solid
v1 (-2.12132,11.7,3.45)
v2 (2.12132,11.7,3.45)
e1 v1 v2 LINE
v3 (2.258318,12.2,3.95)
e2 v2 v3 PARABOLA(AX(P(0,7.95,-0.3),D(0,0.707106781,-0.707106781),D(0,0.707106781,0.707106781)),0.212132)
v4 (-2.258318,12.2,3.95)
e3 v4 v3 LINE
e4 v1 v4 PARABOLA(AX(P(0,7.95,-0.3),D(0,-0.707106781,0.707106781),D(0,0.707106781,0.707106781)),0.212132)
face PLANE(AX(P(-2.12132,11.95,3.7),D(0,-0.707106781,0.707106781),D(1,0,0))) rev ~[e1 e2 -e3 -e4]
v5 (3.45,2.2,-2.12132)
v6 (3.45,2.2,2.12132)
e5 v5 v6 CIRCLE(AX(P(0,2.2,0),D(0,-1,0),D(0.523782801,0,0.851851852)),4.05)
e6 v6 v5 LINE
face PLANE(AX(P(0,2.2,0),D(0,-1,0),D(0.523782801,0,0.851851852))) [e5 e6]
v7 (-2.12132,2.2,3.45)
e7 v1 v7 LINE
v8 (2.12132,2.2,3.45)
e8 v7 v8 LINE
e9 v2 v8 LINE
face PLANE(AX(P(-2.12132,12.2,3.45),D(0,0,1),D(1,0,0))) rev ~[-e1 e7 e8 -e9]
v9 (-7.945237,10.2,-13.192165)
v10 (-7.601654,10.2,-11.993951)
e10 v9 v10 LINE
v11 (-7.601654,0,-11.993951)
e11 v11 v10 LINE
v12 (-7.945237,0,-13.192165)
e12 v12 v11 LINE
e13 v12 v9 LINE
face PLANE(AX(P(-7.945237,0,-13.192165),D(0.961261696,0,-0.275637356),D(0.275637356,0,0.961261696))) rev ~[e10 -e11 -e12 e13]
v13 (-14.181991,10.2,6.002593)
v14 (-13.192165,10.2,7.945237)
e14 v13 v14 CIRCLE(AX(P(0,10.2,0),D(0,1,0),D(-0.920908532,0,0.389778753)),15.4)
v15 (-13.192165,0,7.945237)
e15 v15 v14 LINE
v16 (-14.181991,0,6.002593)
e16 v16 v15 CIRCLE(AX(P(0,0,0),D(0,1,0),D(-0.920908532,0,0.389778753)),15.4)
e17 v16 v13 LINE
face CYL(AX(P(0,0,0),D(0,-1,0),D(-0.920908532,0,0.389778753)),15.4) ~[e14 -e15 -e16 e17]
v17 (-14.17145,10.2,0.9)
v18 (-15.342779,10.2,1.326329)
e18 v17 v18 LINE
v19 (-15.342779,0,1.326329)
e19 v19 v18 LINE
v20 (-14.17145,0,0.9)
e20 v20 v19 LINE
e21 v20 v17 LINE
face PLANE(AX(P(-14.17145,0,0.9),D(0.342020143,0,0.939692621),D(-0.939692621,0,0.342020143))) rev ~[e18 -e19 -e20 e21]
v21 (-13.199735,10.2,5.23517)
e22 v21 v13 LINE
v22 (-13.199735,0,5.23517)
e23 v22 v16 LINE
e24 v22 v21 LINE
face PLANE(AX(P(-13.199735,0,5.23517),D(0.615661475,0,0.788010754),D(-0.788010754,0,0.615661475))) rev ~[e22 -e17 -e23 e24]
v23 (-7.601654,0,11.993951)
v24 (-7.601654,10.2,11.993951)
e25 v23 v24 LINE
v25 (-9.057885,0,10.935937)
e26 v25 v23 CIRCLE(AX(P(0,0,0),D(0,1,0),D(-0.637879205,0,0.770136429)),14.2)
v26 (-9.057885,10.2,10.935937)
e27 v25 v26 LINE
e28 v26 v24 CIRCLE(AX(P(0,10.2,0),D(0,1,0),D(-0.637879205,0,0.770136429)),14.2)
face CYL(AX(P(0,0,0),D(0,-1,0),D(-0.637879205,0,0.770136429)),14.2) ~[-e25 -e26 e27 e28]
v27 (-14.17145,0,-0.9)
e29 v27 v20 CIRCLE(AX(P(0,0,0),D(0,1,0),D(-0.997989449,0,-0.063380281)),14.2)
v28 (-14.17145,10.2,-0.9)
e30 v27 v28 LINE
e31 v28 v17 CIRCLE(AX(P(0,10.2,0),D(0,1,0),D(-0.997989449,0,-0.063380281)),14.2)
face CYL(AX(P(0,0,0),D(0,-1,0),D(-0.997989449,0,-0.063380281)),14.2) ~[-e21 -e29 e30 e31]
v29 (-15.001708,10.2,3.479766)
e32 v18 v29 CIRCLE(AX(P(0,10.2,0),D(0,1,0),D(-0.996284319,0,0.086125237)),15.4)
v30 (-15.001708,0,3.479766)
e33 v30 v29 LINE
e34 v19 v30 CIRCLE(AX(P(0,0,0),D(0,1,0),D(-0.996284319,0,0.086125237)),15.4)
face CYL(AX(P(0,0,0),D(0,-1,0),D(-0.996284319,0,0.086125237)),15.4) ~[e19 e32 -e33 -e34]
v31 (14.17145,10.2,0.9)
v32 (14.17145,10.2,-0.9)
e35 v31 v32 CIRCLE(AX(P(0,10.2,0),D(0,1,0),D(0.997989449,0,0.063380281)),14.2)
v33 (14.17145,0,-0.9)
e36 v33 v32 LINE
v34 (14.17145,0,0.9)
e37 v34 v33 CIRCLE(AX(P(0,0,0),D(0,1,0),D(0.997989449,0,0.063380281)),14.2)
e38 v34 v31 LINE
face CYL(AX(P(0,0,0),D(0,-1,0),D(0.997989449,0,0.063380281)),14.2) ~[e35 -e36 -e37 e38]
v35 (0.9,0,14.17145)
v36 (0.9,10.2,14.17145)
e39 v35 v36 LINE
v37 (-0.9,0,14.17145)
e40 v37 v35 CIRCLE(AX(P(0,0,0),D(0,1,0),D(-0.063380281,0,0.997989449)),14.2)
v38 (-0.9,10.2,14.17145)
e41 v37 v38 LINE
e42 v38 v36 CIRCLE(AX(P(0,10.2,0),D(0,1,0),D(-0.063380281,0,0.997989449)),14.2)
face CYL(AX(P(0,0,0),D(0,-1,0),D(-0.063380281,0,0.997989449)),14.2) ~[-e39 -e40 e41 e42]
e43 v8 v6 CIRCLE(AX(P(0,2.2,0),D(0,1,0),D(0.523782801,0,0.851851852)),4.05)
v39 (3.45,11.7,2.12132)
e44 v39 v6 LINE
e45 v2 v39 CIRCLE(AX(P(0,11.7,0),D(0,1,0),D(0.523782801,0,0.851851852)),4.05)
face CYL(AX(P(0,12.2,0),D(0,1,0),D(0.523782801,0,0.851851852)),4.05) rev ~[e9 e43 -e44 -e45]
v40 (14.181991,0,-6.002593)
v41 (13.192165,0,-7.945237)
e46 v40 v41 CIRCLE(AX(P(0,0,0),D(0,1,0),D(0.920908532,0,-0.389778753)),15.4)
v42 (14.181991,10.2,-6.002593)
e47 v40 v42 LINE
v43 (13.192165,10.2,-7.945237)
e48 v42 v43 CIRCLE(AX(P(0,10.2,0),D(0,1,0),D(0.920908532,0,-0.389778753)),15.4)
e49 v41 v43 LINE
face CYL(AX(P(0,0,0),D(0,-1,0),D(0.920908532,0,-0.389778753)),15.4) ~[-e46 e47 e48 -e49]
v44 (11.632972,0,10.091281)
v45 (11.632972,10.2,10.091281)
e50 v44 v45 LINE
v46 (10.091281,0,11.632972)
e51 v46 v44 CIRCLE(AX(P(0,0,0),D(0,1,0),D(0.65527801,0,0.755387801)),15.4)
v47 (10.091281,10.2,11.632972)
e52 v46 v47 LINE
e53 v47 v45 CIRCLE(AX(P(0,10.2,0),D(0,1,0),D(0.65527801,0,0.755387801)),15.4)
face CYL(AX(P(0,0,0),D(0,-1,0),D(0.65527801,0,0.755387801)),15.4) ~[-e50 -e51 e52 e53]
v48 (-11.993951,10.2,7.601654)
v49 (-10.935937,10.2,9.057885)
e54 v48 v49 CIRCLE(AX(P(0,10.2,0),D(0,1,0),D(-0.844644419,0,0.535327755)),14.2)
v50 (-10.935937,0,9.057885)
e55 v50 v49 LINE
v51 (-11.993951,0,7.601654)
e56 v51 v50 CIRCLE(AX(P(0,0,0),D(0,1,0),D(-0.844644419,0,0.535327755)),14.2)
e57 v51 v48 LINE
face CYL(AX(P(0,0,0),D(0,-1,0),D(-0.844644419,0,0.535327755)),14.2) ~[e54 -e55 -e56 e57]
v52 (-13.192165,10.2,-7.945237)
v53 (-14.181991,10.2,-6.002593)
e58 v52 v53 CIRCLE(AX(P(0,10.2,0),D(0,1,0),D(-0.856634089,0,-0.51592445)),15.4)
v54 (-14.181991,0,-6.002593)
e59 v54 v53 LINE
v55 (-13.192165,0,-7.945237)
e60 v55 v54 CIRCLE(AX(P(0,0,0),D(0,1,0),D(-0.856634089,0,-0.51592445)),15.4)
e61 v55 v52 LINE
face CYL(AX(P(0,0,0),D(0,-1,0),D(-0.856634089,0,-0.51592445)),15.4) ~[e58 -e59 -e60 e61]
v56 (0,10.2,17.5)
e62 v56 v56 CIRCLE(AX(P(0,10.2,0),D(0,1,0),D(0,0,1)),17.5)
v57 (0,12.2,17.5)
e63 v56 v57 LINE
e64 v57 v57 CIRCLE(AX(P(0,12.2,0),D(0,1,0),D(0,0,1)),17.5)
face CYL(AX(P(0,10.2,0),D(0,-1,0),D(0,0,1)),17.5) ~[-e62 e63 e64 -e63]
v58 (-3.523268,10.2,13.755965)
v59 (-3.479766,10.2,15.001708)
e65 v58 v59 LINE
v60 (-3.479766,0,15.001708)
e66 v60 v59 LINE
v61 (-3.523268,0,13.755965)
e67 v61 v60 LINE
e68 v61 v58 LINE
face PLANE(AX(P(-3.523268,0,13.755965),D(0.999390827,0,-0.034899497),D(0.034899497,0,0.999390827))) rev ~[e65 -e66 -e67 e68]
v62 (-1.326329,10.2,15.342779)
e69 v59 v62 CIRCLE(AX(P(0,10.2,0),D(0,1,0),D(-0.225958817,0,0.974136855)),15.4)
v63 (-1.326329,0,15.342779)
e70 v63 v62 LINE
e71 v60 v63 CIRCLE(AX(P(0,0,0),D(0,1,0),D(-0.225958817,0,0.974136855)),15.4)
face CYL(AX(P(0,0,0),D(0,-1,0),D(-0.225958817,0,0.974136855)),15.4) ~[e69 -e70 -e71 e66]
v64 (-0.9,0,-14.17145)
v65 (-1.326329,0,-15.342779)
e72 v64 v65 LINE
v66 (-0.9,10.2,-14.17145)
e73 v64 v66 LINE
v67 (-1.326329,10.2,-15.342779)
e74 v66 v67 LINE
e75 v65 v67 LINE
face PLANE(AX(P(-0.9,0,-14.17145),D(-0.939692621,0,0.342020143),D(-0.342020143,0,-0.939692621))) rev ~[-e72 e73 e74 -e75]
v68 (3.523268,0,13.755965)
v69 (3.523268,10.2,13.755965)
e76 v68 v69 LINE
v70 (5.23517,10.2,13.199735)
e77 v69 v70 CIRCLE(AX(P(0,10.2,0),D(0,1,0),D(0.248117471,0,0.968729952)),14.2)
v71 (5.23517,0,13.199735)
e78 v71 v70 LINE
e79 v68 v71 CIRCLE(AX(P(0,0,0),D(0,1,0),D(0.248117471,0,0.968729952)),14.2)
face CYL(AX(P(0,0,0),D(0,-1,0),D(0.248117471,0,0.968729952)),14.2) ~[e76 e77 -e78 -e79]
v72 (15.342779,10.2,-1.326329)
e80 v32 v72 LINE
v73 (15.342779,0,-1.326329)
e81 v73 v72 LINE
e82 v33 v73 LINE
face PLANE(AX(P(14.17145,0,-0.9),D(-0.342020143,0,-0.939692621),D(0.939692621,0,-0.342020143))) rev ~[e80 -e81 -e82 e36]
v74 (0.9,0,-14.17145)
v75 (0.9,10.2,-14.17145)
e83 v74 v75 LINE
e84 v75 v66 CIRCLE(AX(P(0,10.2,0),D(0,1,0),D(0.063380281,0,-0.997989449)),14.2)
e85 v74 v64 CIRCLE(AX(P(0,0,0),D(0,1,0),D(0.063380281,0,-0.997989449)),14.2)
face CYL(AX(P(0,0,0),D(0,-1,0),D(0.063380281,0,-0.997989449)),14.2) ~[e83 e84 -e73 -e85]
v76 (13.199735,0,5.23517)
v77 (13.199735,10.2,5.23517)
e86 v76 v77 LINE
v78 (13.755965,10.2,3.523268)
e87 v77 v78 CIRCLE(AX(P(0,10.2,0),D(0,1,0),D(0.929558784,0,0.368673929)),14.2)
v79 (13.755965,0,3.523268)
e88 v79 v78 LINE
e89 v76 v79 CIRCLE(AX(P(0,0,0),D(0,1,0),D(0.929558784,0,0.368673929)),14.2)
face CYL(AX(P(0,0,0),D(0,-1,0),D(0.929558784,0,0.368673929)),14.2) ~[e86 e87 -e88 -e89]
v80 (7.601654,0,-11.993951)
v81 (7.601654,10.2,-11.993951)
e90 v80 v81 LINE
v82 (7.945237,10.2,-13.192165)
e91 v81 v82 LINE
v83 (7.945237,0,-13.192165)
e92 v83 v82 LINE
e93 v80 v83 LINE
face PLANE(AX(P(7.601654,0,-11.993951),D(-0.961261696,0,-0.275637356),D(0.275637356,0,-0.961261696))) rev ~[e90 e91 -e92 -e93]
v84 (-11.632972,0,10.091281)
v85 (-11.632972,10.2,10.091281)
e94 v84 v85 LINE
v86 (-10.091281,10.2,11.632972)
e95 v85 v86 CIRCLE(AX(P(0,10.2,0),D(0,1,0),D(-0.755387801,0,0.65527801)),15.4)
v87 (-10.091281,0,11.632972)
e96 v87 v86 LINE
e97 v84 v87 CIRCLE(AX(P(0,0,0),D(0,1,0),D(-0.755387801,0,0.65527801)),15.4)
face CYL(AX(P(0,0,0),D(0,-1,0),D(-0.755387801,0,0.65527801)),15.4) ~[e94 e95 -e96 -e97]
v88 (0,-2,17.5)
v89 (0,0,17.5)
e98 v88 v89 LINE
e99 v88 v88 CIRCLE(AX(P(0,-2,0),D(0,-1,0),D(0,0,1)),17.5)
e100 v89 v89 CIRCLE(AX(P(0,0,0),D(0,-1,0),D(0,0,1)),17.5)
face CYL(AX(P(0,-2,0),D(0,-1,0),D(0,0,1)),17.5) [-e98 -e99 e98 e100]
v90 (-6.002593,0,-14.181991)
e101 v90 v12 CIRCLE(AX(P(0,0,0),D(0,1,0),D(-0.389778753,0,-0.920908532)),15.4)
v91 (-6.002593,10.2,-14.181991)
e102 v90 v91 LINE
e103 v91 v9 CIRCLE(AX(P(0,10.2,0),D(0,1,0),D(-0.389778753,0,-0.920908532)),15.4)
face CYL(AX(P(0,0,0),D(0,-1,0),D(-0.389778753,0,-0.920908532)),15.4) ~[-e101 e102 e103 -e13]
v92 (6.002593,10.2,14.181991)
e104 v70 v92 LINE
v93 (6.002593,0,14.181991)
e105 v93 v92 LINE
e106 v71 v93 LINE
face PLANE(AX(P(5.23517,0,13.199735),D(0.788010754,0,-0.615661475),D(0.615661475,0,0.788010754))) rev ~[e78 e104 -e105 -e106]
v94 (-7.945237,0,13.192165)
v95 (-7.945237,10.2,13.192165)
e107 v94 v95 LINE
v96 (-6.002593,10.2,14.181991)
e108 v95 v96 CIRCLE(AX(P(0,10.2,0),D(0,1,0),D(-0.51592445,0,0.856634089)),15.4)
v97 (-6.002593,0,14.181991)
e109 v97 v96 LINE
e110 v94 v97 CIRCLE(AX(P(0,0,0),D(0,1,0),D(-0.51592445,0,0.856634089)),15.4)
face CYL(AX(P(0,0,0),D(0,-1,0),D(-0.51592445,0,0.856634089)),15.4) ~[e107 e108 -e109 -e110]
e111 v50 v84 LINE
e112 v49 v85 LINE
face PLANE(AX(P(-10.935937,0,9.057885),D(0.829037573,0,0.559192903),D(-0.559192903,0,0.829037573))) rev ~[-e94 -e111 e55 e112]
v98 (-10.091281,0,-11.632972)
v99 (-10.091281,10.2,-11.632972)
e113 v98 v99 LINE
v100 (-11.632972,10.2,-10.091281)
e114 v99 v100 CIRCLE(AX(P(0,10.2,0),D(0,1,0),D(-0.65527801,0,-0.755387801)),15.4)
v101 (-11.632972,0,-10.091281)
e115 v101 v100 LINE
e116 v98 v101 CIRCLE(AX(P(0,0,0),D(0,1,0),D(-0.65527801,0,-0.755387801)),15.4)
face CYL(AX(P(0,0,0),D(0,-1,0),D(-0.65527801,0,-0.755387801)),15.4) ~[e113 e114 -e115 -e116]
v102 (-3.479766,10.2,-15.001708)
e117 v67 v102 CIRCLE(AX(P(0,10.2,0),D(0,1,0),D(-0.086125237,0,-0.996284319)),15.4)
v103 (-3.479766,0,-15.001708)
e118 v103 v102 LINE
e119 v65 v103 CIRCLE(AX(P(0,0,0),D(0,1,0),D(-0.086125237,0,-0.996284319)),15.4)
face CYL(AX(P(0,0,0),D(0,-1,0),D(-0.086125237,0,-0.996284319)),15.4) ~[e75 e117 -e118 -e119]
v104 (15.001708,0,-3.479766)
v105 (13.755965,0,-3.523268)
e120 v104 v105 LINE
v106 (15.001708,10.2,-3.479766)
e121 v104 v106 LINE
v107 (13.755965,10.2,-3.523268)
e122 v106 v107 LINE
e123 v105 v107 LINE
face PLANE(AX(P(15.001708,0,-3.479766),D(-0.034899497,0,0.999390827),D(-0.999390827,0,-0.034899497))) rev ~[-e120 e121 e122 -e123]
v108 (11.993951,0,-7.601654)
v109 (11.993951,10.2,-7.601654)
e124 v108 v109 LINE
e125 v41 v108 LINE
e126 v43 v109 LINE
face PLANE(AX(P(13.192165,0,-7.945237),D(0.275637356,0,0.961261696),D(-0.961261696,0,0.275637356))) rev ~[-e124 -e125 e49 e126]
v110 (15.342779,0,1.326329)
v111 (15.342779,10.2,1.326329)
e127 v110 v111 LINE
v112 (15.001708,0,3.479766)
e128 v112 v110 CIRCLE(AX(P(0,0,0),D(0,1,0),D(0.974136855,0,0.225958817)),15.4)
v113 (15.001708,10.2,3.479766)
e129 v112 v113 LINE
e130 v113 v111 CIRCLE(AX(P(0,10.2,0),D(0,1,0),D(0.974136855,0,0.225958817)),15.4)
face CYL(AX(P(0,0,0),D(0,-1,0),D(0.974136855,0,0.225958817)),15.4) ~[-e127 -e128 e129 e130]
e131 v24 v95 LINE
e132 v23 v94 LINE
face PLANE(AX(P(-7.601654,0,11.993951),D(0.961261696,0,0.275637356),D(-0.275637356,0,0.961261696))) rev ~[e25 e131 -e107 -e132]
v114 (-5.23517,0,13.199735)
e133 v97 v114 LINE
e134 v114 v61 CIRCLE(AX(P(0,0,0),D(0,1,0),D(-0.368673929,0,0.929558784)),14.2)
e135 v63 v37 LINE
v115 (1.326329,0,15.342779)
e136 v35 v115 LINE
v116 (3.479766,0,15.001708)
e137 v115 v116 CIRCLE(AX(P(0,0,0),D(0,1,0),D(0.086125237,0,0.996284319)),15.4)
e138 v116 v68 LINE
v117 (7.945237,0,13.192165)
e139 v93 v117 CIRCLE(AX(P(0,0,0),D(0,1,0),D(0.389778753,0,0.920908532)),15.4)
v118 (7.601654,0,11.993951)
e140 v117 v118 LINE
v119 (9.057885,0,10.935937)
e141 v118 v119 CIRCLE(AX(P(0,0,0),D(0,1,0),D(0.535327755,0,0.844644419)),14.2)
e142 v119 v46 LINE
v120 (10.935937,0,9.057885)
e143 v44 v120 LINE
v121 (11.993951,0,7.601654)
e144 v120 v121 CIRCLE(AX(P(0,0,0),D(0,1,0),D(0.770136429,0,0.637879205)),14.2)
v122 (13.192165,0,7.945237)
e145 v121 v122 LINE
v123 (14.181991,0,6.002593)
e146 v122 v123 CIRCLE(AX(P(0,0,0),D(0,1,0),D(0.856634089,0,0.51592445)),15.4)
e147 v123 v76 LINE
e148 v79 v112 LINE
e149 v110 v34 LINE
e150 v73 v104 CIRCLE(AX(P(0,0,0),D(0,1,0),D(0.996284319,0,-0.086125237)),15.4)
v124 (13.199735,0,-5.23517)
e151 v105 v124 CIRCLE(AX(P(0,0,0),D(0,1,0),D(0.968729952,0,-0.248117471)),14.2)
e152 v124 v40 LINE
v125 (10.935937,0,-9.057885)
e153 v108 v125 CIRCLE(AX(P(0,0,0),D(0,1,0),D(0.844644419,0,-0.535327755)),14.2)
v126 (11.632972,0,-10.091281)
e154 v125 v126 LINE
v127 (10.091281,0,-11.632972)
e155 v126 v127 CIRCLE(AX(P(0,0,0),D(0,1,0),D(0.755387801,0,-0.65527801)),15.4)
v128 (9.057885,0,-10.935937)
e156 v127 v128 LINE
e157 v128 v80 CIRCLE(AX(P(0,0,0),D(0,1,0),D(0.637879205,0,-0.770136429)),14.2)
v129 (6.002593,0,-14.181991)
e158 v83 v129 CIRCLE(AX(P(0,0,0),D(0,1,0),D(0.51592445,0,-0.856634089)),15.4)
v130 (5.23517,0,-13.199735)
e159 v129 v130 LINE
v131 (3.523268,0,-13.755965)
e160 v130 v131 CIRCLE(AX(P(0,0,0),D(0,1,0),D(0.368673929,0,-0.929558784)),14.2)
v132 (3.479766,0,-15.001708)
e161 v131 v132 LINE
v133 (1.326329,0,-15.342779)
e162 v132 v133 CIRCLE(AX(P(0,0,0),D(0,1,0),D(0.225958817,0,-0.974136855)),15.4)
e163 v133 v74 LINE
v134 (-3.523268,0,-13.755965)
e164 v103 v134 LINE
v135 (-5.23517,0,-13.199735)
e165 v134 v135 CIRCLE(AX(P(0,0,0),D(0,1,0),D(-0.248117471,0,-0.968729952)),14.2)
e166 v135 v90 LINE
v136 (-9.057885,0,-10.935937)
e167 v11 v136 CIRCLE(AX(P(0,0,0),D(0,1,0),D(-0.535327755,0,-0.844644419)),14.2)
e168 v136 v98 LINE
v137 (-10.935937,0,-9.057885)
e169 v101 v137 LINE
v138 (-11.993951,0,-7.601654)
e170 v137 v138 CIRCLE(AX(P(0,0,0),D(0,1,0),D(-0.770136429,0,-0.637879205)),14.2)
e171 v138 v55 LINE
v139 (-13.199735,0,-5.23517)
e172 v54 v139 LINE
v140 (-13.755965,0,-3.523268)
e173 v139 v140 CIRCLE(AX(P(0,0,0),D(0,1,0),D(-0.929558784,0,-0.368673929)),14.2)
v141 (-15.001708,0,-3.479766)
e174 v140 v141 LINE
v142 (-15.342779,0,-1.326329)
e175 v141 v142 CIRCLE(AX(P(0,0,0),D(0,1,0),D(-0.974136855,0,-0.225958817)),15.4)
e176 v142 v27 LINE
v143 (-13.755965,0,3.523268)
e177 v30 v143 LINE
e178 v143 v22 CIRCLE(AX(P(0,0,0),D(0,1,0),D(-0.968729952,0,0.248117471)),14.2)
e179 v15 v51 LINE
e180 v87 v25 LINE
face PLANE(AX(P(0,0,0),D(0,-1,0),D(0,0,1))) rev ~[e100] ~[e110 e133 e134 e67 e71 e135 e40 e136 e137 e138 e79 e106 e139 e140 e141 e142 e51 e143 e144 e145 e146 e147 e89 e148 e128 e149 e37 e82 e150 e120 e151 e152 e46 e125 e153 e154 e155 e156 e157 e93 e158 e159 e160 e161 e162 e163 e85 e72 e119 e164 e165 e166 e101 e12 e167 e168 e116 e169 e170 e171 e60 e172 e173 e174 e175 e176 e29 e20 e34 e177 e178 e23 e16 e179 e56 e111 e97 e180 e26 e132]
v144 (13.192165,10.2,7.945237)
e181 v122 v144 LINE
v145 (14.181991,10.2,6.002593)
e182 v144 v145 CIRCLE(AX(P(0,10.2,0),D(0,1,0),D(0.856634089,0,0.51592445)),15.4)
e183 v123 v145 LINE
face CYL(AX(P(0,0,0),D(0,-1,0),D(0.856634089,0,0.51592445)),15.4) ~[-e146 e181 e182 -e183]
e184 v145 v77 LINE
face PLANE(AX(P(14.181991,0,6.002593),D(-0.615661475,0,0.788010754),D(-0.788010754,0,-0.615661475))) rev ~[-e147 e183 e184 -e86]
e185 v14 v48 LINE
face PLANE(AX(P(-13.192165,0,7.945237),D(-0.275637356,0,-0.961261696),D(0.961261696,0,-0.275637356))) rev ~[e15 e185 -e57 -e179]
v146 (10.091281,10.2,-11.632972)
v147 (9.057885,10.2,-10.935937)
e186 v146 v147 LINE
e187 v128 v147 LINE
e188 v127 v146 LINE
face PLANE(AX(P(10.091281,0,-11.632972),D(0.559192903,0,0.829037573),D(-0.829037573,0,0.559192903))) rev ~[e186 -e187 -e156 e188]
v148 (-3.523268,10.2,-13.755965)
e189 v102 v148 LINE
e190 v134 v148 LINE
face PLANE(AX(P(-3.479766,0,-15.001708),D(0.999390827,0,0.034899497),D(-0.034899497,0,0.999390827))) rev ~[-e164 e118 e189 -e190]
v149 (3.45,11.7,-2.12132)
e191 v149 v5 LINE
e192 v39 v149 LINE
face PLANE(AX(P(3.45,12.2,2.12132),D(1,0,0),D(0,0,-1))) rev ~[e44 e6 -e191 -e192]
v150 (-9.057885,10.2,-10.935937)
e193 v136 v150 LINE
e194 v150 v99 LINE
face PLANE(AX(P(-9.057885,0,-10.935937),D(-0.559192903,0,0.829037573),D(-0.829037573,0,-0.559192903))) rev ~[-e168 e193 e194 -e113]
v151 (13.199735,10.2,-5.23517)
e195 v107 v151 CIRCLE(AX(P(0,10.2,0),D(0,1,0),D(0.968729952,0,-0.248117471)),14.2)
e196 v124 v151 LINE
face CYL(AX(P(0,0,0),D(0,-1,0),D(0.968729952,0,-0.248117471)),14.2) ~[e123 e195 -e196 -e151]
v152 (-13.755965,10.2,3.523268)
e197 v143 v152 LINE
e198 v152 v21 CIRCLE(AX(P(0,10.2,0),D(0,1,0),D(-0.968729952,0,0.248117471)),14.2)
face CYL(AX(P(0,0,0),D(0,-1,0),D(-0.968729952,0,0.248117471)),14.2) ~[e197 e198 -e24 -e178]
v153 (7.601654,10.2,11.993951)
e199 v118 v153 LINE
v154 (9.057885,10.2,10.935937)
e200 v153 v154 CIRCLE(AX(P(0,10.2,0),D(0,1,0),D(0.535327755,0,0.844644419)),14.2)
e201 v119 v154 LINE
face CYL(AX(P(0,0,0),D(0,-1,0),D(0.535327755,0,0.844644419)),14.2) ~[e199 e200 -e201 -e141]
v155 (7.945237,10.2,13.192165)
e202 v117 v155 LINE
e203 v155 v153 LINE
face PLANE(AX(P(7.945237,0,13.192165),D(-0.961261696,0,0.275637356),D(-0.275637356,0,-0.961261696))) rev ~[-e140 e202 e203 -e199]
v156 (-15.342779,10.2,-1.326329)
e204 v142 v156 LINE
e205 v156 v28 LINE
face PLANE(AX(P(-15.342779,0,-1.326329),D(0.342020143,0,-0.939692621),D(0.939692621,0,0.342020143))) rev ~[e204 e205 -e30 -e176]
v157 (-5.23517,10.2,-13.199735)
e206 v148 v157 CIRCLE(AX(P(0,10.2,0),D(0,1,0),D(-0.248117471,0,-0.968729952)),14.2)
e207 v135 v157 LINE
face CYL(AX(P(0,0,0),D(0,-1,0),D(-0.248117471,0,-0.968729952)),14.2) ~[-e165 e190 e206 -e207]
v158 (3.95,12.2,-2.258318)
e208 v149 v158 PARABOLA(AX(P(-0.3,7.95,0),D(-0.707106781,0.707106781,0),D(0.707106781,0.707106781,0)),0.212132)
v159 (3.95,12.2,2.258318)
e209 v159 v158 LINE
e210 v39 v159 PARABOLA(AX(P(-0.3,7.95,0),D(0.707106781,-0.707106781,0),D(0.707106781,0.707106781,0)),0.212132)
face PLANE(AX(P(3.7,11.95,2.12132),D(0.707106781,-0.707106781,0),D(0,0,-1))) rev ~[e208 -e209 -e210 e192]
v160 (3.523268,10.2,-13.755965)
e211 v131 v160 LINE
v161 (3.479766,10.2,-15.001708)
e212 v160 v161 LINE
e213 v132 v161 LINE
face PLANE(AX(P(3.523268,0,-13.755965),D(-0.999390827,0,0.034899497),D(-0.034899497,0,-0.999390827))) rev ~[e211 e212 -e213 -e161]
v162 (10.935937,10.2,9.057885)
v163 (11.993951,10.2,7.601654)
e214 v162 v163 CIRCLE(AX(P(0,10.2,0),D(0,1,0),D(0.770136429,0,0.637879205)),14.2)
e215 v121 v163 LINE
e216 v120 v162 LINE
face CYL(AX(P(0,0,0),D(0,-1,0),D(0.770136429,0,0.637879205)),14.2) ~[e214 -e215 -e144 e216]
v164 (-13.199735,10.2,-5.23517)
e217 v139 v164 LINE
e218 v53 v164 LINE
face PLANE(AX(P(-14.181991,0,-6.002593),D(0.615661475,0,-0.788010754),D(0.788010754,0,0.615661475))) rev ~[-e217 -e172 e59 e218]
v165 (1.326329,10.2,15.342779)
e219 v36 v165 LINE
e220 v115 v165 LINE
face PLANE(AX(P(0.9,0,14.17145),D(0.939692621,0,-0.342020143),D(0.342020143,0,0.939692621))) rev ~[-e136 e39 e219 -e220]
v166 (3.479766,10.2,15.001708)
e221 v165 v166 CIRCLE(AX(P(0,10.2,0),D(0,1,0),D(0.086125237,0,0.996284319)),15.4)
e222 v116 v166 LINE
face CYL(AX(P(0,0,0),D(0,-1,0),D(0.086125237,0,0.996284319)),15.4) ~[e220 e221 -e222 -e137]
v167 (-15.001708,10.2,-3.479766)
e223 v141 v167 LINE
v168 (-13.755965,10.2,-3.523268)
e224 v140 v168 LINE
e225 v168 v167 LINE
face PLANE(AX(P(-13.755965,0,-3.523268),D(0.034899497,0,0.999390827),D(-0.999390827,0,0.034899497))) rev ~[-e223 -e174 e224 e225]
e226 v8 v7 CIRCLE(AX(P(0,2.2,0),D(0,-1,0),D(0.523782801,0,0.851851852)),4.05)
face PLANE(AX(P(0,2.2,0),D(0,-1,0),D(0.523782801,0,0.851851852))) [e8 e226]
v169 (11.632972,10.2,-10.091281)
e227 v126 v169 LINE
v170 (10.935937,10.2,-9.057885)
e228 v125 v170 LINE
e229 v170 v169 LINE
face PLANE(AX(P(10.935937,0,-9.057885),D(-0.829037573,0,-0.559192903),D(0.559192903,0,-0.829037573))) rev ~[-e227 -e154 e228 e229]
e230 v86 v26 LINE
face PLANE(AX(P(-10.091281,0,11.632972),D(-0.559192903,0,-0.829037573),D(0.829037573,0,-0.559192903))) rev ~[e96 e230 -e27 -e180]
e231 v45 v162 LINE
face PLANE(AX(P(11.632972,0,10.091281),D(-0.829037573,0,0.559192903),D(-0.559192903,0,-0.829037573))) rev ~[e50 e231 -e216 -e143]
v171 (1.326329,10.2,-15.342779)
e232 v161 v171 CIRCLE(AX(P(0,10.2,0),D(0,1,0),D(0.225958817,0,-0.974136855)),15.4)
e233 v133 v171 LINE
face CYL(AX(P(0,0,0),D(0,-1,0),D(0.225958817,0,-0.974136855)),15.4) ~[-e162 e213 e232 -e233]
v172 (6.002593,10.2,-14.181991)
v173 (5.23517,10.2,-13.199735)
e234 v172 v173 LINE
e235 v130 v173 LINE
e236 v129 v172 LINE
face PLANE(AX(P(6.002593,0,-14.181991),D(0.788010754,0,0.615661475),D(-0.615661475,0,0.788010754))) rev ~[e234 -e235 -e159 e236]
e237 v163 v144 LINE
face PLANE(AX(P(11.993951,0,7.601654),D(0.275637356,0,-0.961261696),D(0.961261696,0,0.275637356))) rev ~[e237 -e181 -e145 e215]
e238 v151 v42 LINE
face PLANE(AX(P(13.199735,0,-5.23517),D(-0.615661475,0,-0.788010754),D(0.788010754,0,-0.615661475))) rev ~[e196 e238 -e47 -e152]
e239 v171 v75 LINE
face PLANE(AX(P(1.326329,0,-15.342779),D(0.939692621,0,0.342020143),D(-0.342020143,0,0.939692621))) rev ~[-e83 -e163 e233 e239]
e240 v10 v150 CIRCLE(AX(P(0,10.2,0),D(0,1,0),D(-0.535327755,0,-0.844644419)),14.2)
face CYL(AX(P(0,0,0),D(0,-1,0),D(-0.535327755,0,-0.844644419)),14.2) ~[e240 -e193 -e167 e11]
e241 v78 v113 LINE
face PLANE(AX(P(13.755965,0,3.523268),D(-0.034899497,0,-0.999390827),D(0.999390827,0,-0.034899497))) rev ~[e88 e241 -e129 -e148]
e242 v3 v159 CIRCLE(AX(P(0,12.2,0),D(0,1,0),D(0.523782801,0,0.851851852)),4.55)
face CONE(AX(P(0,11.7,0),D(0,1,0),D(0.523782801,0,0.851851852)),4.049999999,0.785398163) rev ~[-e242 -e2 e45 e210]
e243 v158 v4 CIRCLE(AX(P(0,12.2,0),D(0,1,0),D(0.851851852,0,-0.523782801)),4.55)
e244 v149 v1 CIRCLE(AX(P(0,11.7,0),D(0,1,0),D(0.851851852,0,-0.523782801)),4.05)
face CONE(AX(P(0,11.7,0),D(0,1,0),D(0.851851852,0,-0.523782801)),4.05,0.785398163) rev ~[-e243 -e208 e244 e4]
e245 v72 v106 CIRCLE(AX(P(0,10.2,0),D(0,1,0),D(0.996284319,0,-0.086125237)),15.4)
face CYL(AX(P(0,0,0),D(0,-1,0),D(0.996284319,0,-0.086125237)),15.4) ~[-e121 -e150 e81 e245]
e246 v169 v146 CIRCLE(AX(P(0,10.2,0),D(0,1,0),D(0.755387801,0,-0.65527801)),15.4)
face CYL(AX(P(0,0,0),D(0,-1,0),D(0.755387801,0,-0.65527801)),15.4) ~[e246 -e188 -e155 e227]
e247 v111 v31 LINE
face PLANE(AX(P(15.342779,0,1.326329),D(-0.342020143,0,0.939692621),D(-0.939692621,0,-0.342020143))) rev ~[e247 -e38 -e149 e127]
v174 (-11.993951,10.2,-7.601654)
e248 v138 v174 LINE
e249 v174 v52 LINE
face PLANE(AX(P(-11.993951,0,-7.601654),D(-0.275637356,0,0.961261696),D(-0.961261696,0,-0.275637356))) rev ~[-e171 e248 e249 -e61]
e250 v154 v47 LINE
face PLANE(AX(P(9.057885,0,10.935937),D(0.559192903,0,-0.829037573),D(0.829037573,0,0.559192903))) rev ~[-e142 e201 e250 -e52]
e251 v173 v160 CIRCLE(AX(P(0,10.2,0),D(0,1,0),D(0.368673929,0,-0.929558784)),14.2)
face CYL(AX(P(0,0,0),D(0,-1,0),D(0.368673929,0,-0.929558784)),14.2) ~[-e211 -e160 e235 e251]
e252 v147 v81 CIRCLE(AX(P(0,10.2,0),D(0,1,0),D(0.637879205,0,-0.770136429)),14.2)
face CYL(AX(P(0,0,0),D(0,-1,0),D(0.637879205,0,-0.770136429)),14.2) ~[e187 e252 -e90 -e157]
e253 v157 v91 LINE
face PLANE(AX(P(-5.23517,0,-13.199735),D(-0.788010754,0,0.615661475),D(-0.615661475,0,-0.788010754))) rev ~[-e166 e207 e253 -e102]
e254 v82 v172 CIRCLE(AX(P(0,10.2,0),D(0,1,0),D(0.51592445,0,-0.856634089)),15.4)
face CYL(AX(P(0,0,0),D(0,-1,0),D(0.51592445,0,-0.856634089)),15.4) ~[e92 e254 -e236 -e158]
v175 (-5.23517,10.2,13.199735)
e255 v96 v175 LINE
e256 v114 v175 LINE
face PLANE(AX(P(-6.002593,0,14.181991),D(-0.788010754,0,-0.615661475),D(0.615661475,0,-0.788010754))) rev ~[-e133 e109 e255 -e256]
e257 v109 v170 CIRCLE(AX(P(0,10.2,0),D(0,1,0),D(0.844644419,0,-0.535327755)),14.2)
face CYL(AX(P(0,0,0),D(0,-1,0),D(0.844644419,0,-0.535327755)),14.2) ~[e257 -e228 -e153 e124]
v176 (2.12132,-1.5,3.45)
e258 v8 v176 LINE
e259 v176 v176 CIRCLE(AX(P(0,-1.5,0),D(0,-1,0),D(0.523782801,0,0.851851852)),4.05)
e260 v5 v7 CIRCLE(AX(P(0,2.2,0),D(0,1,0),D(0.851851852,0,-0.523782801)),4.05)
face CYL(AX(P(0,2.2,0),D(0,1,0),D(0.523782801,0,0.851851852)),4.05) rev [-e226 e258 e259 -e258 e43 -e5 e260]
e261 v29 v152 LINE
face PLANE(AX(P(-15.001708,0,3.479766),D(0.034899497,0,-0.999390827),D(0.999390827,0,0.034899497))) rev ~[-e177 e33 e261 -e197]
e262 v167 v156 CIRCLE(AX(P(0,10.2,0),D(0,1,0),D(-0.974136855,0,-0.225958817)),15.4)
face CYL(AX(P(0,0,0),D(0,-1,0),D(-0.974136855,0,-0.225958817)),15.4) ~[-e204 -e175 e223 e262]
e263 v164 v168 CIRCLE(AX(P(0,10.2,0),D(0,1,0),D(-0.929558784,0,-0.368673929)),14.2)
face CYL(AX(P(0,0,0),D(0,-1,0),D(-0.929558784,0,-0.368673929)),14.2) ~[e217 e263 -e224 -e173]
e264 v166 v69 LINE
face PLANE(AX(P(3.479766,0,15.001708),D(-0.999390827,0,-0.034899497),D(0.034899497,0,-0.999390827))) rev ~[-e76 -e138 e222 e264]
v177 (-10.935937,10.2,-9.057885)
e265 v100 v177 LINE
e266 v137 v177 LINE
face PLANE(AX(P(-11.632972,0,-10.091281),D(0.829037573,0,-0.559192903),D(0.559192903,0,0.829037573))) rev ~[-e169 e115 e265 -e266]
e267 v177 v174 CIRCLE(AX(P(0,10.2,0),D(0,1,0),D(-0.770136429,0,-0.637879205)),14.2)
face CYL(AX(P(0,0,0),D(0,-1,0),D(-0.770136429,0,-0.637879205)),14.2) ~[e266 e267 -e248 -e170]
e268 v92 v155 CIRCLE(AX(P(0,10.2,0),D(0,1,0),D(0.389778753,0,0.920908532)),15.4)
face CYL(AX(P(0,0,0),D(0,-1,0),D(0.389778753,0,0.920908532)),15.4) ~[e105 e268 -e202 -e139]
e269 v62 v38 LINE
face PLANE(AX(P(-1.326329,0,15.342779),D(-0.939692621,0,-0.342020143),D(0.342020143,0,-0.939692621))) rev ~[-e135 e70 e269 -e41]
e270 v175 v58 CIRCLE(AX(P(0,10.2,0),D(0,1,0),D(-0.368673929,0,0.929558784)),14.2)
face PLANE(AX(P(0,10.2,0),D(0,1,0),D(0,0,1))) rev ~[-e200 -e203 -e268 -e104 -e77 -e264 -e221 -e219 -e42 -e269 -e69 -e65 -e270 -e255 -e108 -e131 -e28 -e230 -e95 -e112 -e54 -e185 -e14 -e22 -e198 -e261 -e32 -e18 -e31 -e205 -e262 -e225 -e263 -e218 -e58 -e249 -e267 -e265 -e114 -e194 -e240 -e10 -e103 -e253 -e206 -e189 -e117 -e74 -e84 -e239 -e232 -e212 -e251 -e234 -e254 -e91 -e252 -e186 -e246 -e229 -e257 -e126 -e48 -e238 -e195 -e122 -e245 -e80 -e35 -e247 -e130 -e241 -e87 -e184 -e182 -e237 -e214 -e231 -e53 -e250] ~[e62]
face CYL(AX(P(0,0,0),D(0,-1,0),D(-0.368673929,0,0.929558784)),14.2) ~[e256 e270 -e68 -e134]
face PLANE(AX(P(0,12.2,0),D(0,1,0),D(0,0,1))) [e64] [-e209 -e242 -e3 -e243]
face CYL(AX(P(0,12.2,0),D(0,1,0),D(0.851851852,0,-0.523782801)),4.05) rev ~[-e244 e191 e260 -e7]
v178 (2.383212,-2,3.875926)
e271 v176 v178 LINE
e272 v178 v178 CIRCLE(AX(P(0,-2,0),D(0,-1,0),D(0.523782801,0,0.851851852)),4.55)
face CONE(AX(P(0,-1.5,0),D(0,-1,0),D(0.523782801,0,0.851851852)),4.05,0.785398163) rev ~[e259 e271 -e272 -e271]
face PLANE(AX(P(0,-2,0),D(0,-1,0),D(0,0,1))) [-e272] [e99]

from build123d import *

# Parameters (mm, degrees)
EXTRUDE_1_DEPTH     = 10.2
SKETCH_3_R          = 17.5
EXTRUDE_2_DEPTH     = 2
EXTRUDE_START       = 2
SKETCH_4_R          = 17.5
EXTRUDE_3_DEPTH     = 2
CUT_EXTRUDE_4_DEPTH = 10
CUT_EXTRUDE_START   = -4.2
SKETCH_6_R          = 4.05
CUT_EXTRUDE_5_DEPTH = 4.2
CHAMFER_1_SIZE      = 0.5
CHAMFER_2_SIZE      = 0.5


with BuildPart() as part:
    # Эскиз2 → Вытянуть1 (new body)
    with BuildSketch(Plane(origin=(0, 0, 0), x_dir=(1, 0, 0), z_dir=(0, 1, 0))):
        with BuildLine():
            Line((-0.9, 14.171450173), (-1.326328648, 15.342778507))
            ThreePointArc((-1.326328648, 15.342778507), (-2.409090762, 15.210400445), (-3.479765796, 15.00170757))
            Line((-3.479765796, 15.00170757), (-3.523268074, 13.755965327))
            ThreePointArc((-3.523268074, 13.755965327), (-4.38804132, 13.505002531), (-5.235169803, 13.199734737))
            Line((-5.235169803, 13.199734737), (-6.002592803, 14.181991385))
            ThreePointArc((-6.002592803, 14.181991385), (-6.991453696, 13.721500473), (-7.945236519, 13.192164972))
            Line((-7.945236519, 13.192164972), (-7.60165412, 11.993950752))
            ThreePointArc((-7.60165412, 11.993950752), (-8.346550583, 11.48804132), (-9.05788471, 10.935937298))
            Line((-9.05788471, 10.935937298), (-10.091281352, 11.632972134))
            ThreePointArc((-10.091281352, 11.632972134), (-10.88944443, 10.88944443), (-11.632972134, 10.091281352))
            Line((-11.632972134, 10.091281352), (-10.935937298, 9.05788471))
            ThreePointArc((-10.935937298, 9.05788471), (-11.48804132, 8.346550583), (-11.993950752, 7.60165412))
            Line((-11.993950752, 7.60165412), (-13.192164972, 7.945236519))
            ThreePointArc((-13.192164972, 7.945236519), (-13.721500473, 6.991453696), (-14.181991385, 6.002592803))
            Line((-14.181991385, 6.002592803), (-13.199734737, 5.235169803))
            ThreePointArc((-13.199734737, 5.235169803), (-13.505002531, 4.38804132), (-13.755965327, 3.523268074))
            Line((-13.755965327, 3.523268074), (-15.00170757, 3.479765796))
            ThreePointArc((-15.00170757, 3.479765796), (-15.210400445, 2.409090762), (-15.342778507, 1.326328648))
            Line((-15.342778507, 1.326328648), (-14.171450173, 0.9))
            ThreePointArc((-14.171450173, 0.9), (-14.2, 0), (-14.171450173, -0.9))
            Line((-14.171450173, -0.9), (-15.342778507, -1.326328648))
            ThreePointArc((-15.342778507, -1.326328648), (-15.210400445, -2.409090762), (-15.00170757, -3.479765796))
            Line((-15.00170757, -3.479765796), (-13.755965327, -3.523268074))
            ThreePointArc((-13.755965327, -3.523268074), (-13.505002531, -4.38804132), (-13.199734737, -5.235169803))
            Line((-13.199734737, -5.235169803), (-14.181991385, -6.002592803))
            ThreePointArc((-14.181991385, -6.002592803), (-13.721500473, -6.991453696), (-13.192164972, -7.945236519))
            Line((-13.192164972, -7.945236519), (-11.993950752, -7.60165412))
            ThreePointArc((-11.993950752, -7.60165412), (-11.48804132, -8.346550583), (-10.935937298, -9.05788471))
            Line((-10.935937298, -9.05788471), (-11.632972134, -10.091281352))
            ThreePointArc((-11.632972134, -10.091281352), (-10.88944443, -10.88944443), (-10.091281352, -11.632972134))
            Line((-10.091281352, -11.632972134), (-9.05788471, -10.935937298))
            ThreePointArc((-9.05788471, -10.935937298), (-8.346550583, -11.48804132), (-7.60165412, -11.993950752))
            Line((-7.60165412, -11.993950752), (-7.945236519, -13.192164972))
            ThreePointArc((-7.945236519, -13.192164972), (-6.991453696, -13.721500473), (-6.002592803, -14.181991385))
            Line((-6.002592803, -14.181991385), (-5.235169803, -13.199734737))
            ThreePointArc((-5.235169803, -13.199734737), (-4.38804132, -13.505002531), (-3.523268074, -13.755965327))
            Line((-3.523268074, -13.755965327), (-3.479765796, -15.00170757))
            ThreePointArc((-3.479765796, -15.00170757), (-2.409090762, -15.210400445), (-1.326328648, -15.342778507))
            Line((-1.326328648, -15.342778507), (-0.9, -14.171450173))
            ThreePointArc((-0.9, -14.171450173), (0, -14.2), (0.9, -14.171450173))
            Line((0.9, -14.171450173), (1.326328648, -15.342778507))
            ThreePointArc((1.326328648, -15.342778507), (2.409090762, -15.210400445), (3.479765796, -15.00170757))
            Line((3.479765796, -15.00170757), (3.523268074, -13.755965327))
            ThreePointArc((3.523268074, -13.755965327), (4.38804132, -13.505002531), (5.235169803, -13.199734737))
            Line((5.235169803, -13.199734737), (6.002592803, -14.181991385))
            ThreePointArc((6.002592803, -14.181991385), (6.991453696, -13.721500473), (7.945236519, -13.192164972))
            Line((7.945236519, -13.192164972), (7.60165412, -11.993950752))
            ThreePointArc((7.60165412, -11.993950752), (8.346550583, -11.48804132), (9.05788471, -10.935937298))
            Line((9.05788471, -10.935937298), (10.091281352, -11.632972134))
            ThreePointArc((10.091281352, -11.632972134), (10.88944443, -10.88944443), (11.632972134, -10.091281352))
            Line((11.632972134, -10.091281352), (10.935937298, -9.05788471))
            ThreePointArc((10.935937298, -9.05788471), (11.48804132, -8.346550583), (11.993950752, -7.60165412))
            Line((11.993950752, -7.60165412), (13.192164972, -7.945236519))
            ThreePointArc((13.192164972, -7.945236519), (13.721500473, -6.991453696), (14.181991385, -6.002592803))
            Line((14.181991385, -6.002592803), (13.199734737, -5.235169803))
            ThreePointArc((13.199734737, -5.235169803), (13.505002531, -4.38804132), (13.755965327, -3.523268074))
            Line((13.755965327, -3.523268074), (15.00170757, -3.479765796))
            ThreePointArc((15.00170757, -3.479765796), (15.210400445, -2.409090762), (15.342778507, -1.326328648))
            Line((15.342778507, -1.326328648), (14.171450173, -0.9))
            ThreePointArc((14.171450173, -0.9), (14.2, 0), (14.171450173, 0.9))
            Line((14.171450173, 0.9), (15.342778507, 1.326328648))
            ThreePointArc((15.342778507, 1.326328648), (15.210400445, 2.409090762), (15.00170757, 3.479765796))
            Line((15.00170757, 3.479765796), (13.755965327, 3.523268074))
            ThreePointArc((13.755965327, 3.523268074), (13.505002531, 4.38804132), (13.199734737, 5.235169803))
            Line((13.199734737, 5.235169803), (14.181991385, 6.002592803))
            ThreePointArc((14.181991385, 6.002592803), (13.721500473, 6.991453696), (13.192164972, 7.945236519))
            Line((13.192164972, 7.945236519), (11.993950752, 7.60165412))
            ThreePointArc((11.993950752, 7.60165412), (11.48804132, 8.346550583), (10.935937298, 9.05788471))
            Line((10.935937298, 9.05788471), (11.632972134, 10.091281352))
            ThreePointArc((11.632972134, 10.091281352), (10.88944443, 10.88944443), (10.091281352, 11.632972134))
            Line((10.091281352, 11.632972134), (9.05788471, 10.935937298))
            ThreePointArc((9.05788471, 10.935937298), (8.346550583, 11.48804132), (7.60165412, 11.993950752))
            Line((7.60165412, 11.993950752), (7.945236519, 13.192164972))
            ThreePointArc((7.945236519, 13.192164972), (6.991453696, 13.721500473), (6.002592803, 14.181991385))
            Line((6.002592803, 14.181991385), (5.235169803, 13.199734737))
            ThreePointArc((5.235169803, 13.199734737), (4.38804132, 13.505002531), (3.523268074, 13.755965327))
            Line((3.523268074, 13.755965327), (3.479765796, 15.00170757))
            ThreePointArc((3.479765796, 15.00170757), (2.409090762, 15.210400445), (1.326328648, 15.342778507))
            Line((1.326328648, 15.342778507), (0.9, 14.171450173))
            ThreePointArc((0.9, 14.171450173), (0, 14.2), (-0.9, 14.171450173))
        make_face()
    extrude(amount=EXTRUDE_1_DEPTH)

    # Эскиз3 → Вытянуть2 (add)
    with BuildSketch(Plane(origin=(0, 10.2, 0), x_dir=(1, 0, 0), z_dir=(0, 1, 0))):
        with Locations(Location((0, 0, 0), (0, 0, 270))):
            Circle(SKETCH_3_R)
    extrude(amount=EXTRUDE_2_DEPTH)

    # Эскиз4 → Вытянуть3 (add)
    with BuildSketch(Plane.XZ.offset(EXTRUDE_START)):
        with Locations(Location((0, 0, 0), (0, 0, 90))):
            Circle(SKETCH_4_R)
    extrude(amount=-EXTRUDE_3_DEPTH)

    # Эскиз5 → Вытянуть4 (cut)
    with BuildSketch(Plane(origin=(0, 12.2, 0), x_dir=(1, 0, 0), z_dir=(0, 1, 0))):
        with BuildLine():
            Line((3.45, -2.121320344), (3.45, 2.121320344))
            ThreePointArc((3.45, 2.121320344), (-2.863782464, 2.863782464), (-2.121320344, -3.45))
            Line((-2.121320344, -3.45), (2.121320344, -3.45))
            ThreePointArc((2.121320344, -3.45), (2.863782464, -2.863782464), (3.45, -2.121320344))
        make_face()
    extrude(amount=-CUT_EXTRUDE_4_DEPTH, mode=Mode.SUBTRACT)

    # Эскиз6 → Вытянуть5 (cut)
    with BuildSketch(Plane.XZ.offset(2).offset(CUT_EXTRUDE_START)):
        with Locations(Location((0, 0, 0), (0, 0, 58.413661903))):
            Circle(SKETCH_6_R)
    extrude(amount=CUT_EXTRUDE_5_DEPTH, mode=Mode.SUBTRACT)

    # Фаска1
    chamfer_1_edges = [part.edges().sort_by_distance(p)[0] for p in [
        (-2.863782464, 12.2, -2.863782464),
        (0, 12.2, 3.45),
        (2.863782464, 12.2, 2.863782464),
        (3.45, 12.2, 0),
    ]]
    chamfer(chamfer_1_edges, length=CHAMFER_1_SIZE)

    # Фаска2
    chamfer_2_edges = [part.edges().sort_by_distance(p)[0] for p in [
        (-2.121320344, -2, -3.45),
    ]]
    chamfer(chamfer_2_edges, length=CHAMFER_2_SIZE)


solid = part.part
